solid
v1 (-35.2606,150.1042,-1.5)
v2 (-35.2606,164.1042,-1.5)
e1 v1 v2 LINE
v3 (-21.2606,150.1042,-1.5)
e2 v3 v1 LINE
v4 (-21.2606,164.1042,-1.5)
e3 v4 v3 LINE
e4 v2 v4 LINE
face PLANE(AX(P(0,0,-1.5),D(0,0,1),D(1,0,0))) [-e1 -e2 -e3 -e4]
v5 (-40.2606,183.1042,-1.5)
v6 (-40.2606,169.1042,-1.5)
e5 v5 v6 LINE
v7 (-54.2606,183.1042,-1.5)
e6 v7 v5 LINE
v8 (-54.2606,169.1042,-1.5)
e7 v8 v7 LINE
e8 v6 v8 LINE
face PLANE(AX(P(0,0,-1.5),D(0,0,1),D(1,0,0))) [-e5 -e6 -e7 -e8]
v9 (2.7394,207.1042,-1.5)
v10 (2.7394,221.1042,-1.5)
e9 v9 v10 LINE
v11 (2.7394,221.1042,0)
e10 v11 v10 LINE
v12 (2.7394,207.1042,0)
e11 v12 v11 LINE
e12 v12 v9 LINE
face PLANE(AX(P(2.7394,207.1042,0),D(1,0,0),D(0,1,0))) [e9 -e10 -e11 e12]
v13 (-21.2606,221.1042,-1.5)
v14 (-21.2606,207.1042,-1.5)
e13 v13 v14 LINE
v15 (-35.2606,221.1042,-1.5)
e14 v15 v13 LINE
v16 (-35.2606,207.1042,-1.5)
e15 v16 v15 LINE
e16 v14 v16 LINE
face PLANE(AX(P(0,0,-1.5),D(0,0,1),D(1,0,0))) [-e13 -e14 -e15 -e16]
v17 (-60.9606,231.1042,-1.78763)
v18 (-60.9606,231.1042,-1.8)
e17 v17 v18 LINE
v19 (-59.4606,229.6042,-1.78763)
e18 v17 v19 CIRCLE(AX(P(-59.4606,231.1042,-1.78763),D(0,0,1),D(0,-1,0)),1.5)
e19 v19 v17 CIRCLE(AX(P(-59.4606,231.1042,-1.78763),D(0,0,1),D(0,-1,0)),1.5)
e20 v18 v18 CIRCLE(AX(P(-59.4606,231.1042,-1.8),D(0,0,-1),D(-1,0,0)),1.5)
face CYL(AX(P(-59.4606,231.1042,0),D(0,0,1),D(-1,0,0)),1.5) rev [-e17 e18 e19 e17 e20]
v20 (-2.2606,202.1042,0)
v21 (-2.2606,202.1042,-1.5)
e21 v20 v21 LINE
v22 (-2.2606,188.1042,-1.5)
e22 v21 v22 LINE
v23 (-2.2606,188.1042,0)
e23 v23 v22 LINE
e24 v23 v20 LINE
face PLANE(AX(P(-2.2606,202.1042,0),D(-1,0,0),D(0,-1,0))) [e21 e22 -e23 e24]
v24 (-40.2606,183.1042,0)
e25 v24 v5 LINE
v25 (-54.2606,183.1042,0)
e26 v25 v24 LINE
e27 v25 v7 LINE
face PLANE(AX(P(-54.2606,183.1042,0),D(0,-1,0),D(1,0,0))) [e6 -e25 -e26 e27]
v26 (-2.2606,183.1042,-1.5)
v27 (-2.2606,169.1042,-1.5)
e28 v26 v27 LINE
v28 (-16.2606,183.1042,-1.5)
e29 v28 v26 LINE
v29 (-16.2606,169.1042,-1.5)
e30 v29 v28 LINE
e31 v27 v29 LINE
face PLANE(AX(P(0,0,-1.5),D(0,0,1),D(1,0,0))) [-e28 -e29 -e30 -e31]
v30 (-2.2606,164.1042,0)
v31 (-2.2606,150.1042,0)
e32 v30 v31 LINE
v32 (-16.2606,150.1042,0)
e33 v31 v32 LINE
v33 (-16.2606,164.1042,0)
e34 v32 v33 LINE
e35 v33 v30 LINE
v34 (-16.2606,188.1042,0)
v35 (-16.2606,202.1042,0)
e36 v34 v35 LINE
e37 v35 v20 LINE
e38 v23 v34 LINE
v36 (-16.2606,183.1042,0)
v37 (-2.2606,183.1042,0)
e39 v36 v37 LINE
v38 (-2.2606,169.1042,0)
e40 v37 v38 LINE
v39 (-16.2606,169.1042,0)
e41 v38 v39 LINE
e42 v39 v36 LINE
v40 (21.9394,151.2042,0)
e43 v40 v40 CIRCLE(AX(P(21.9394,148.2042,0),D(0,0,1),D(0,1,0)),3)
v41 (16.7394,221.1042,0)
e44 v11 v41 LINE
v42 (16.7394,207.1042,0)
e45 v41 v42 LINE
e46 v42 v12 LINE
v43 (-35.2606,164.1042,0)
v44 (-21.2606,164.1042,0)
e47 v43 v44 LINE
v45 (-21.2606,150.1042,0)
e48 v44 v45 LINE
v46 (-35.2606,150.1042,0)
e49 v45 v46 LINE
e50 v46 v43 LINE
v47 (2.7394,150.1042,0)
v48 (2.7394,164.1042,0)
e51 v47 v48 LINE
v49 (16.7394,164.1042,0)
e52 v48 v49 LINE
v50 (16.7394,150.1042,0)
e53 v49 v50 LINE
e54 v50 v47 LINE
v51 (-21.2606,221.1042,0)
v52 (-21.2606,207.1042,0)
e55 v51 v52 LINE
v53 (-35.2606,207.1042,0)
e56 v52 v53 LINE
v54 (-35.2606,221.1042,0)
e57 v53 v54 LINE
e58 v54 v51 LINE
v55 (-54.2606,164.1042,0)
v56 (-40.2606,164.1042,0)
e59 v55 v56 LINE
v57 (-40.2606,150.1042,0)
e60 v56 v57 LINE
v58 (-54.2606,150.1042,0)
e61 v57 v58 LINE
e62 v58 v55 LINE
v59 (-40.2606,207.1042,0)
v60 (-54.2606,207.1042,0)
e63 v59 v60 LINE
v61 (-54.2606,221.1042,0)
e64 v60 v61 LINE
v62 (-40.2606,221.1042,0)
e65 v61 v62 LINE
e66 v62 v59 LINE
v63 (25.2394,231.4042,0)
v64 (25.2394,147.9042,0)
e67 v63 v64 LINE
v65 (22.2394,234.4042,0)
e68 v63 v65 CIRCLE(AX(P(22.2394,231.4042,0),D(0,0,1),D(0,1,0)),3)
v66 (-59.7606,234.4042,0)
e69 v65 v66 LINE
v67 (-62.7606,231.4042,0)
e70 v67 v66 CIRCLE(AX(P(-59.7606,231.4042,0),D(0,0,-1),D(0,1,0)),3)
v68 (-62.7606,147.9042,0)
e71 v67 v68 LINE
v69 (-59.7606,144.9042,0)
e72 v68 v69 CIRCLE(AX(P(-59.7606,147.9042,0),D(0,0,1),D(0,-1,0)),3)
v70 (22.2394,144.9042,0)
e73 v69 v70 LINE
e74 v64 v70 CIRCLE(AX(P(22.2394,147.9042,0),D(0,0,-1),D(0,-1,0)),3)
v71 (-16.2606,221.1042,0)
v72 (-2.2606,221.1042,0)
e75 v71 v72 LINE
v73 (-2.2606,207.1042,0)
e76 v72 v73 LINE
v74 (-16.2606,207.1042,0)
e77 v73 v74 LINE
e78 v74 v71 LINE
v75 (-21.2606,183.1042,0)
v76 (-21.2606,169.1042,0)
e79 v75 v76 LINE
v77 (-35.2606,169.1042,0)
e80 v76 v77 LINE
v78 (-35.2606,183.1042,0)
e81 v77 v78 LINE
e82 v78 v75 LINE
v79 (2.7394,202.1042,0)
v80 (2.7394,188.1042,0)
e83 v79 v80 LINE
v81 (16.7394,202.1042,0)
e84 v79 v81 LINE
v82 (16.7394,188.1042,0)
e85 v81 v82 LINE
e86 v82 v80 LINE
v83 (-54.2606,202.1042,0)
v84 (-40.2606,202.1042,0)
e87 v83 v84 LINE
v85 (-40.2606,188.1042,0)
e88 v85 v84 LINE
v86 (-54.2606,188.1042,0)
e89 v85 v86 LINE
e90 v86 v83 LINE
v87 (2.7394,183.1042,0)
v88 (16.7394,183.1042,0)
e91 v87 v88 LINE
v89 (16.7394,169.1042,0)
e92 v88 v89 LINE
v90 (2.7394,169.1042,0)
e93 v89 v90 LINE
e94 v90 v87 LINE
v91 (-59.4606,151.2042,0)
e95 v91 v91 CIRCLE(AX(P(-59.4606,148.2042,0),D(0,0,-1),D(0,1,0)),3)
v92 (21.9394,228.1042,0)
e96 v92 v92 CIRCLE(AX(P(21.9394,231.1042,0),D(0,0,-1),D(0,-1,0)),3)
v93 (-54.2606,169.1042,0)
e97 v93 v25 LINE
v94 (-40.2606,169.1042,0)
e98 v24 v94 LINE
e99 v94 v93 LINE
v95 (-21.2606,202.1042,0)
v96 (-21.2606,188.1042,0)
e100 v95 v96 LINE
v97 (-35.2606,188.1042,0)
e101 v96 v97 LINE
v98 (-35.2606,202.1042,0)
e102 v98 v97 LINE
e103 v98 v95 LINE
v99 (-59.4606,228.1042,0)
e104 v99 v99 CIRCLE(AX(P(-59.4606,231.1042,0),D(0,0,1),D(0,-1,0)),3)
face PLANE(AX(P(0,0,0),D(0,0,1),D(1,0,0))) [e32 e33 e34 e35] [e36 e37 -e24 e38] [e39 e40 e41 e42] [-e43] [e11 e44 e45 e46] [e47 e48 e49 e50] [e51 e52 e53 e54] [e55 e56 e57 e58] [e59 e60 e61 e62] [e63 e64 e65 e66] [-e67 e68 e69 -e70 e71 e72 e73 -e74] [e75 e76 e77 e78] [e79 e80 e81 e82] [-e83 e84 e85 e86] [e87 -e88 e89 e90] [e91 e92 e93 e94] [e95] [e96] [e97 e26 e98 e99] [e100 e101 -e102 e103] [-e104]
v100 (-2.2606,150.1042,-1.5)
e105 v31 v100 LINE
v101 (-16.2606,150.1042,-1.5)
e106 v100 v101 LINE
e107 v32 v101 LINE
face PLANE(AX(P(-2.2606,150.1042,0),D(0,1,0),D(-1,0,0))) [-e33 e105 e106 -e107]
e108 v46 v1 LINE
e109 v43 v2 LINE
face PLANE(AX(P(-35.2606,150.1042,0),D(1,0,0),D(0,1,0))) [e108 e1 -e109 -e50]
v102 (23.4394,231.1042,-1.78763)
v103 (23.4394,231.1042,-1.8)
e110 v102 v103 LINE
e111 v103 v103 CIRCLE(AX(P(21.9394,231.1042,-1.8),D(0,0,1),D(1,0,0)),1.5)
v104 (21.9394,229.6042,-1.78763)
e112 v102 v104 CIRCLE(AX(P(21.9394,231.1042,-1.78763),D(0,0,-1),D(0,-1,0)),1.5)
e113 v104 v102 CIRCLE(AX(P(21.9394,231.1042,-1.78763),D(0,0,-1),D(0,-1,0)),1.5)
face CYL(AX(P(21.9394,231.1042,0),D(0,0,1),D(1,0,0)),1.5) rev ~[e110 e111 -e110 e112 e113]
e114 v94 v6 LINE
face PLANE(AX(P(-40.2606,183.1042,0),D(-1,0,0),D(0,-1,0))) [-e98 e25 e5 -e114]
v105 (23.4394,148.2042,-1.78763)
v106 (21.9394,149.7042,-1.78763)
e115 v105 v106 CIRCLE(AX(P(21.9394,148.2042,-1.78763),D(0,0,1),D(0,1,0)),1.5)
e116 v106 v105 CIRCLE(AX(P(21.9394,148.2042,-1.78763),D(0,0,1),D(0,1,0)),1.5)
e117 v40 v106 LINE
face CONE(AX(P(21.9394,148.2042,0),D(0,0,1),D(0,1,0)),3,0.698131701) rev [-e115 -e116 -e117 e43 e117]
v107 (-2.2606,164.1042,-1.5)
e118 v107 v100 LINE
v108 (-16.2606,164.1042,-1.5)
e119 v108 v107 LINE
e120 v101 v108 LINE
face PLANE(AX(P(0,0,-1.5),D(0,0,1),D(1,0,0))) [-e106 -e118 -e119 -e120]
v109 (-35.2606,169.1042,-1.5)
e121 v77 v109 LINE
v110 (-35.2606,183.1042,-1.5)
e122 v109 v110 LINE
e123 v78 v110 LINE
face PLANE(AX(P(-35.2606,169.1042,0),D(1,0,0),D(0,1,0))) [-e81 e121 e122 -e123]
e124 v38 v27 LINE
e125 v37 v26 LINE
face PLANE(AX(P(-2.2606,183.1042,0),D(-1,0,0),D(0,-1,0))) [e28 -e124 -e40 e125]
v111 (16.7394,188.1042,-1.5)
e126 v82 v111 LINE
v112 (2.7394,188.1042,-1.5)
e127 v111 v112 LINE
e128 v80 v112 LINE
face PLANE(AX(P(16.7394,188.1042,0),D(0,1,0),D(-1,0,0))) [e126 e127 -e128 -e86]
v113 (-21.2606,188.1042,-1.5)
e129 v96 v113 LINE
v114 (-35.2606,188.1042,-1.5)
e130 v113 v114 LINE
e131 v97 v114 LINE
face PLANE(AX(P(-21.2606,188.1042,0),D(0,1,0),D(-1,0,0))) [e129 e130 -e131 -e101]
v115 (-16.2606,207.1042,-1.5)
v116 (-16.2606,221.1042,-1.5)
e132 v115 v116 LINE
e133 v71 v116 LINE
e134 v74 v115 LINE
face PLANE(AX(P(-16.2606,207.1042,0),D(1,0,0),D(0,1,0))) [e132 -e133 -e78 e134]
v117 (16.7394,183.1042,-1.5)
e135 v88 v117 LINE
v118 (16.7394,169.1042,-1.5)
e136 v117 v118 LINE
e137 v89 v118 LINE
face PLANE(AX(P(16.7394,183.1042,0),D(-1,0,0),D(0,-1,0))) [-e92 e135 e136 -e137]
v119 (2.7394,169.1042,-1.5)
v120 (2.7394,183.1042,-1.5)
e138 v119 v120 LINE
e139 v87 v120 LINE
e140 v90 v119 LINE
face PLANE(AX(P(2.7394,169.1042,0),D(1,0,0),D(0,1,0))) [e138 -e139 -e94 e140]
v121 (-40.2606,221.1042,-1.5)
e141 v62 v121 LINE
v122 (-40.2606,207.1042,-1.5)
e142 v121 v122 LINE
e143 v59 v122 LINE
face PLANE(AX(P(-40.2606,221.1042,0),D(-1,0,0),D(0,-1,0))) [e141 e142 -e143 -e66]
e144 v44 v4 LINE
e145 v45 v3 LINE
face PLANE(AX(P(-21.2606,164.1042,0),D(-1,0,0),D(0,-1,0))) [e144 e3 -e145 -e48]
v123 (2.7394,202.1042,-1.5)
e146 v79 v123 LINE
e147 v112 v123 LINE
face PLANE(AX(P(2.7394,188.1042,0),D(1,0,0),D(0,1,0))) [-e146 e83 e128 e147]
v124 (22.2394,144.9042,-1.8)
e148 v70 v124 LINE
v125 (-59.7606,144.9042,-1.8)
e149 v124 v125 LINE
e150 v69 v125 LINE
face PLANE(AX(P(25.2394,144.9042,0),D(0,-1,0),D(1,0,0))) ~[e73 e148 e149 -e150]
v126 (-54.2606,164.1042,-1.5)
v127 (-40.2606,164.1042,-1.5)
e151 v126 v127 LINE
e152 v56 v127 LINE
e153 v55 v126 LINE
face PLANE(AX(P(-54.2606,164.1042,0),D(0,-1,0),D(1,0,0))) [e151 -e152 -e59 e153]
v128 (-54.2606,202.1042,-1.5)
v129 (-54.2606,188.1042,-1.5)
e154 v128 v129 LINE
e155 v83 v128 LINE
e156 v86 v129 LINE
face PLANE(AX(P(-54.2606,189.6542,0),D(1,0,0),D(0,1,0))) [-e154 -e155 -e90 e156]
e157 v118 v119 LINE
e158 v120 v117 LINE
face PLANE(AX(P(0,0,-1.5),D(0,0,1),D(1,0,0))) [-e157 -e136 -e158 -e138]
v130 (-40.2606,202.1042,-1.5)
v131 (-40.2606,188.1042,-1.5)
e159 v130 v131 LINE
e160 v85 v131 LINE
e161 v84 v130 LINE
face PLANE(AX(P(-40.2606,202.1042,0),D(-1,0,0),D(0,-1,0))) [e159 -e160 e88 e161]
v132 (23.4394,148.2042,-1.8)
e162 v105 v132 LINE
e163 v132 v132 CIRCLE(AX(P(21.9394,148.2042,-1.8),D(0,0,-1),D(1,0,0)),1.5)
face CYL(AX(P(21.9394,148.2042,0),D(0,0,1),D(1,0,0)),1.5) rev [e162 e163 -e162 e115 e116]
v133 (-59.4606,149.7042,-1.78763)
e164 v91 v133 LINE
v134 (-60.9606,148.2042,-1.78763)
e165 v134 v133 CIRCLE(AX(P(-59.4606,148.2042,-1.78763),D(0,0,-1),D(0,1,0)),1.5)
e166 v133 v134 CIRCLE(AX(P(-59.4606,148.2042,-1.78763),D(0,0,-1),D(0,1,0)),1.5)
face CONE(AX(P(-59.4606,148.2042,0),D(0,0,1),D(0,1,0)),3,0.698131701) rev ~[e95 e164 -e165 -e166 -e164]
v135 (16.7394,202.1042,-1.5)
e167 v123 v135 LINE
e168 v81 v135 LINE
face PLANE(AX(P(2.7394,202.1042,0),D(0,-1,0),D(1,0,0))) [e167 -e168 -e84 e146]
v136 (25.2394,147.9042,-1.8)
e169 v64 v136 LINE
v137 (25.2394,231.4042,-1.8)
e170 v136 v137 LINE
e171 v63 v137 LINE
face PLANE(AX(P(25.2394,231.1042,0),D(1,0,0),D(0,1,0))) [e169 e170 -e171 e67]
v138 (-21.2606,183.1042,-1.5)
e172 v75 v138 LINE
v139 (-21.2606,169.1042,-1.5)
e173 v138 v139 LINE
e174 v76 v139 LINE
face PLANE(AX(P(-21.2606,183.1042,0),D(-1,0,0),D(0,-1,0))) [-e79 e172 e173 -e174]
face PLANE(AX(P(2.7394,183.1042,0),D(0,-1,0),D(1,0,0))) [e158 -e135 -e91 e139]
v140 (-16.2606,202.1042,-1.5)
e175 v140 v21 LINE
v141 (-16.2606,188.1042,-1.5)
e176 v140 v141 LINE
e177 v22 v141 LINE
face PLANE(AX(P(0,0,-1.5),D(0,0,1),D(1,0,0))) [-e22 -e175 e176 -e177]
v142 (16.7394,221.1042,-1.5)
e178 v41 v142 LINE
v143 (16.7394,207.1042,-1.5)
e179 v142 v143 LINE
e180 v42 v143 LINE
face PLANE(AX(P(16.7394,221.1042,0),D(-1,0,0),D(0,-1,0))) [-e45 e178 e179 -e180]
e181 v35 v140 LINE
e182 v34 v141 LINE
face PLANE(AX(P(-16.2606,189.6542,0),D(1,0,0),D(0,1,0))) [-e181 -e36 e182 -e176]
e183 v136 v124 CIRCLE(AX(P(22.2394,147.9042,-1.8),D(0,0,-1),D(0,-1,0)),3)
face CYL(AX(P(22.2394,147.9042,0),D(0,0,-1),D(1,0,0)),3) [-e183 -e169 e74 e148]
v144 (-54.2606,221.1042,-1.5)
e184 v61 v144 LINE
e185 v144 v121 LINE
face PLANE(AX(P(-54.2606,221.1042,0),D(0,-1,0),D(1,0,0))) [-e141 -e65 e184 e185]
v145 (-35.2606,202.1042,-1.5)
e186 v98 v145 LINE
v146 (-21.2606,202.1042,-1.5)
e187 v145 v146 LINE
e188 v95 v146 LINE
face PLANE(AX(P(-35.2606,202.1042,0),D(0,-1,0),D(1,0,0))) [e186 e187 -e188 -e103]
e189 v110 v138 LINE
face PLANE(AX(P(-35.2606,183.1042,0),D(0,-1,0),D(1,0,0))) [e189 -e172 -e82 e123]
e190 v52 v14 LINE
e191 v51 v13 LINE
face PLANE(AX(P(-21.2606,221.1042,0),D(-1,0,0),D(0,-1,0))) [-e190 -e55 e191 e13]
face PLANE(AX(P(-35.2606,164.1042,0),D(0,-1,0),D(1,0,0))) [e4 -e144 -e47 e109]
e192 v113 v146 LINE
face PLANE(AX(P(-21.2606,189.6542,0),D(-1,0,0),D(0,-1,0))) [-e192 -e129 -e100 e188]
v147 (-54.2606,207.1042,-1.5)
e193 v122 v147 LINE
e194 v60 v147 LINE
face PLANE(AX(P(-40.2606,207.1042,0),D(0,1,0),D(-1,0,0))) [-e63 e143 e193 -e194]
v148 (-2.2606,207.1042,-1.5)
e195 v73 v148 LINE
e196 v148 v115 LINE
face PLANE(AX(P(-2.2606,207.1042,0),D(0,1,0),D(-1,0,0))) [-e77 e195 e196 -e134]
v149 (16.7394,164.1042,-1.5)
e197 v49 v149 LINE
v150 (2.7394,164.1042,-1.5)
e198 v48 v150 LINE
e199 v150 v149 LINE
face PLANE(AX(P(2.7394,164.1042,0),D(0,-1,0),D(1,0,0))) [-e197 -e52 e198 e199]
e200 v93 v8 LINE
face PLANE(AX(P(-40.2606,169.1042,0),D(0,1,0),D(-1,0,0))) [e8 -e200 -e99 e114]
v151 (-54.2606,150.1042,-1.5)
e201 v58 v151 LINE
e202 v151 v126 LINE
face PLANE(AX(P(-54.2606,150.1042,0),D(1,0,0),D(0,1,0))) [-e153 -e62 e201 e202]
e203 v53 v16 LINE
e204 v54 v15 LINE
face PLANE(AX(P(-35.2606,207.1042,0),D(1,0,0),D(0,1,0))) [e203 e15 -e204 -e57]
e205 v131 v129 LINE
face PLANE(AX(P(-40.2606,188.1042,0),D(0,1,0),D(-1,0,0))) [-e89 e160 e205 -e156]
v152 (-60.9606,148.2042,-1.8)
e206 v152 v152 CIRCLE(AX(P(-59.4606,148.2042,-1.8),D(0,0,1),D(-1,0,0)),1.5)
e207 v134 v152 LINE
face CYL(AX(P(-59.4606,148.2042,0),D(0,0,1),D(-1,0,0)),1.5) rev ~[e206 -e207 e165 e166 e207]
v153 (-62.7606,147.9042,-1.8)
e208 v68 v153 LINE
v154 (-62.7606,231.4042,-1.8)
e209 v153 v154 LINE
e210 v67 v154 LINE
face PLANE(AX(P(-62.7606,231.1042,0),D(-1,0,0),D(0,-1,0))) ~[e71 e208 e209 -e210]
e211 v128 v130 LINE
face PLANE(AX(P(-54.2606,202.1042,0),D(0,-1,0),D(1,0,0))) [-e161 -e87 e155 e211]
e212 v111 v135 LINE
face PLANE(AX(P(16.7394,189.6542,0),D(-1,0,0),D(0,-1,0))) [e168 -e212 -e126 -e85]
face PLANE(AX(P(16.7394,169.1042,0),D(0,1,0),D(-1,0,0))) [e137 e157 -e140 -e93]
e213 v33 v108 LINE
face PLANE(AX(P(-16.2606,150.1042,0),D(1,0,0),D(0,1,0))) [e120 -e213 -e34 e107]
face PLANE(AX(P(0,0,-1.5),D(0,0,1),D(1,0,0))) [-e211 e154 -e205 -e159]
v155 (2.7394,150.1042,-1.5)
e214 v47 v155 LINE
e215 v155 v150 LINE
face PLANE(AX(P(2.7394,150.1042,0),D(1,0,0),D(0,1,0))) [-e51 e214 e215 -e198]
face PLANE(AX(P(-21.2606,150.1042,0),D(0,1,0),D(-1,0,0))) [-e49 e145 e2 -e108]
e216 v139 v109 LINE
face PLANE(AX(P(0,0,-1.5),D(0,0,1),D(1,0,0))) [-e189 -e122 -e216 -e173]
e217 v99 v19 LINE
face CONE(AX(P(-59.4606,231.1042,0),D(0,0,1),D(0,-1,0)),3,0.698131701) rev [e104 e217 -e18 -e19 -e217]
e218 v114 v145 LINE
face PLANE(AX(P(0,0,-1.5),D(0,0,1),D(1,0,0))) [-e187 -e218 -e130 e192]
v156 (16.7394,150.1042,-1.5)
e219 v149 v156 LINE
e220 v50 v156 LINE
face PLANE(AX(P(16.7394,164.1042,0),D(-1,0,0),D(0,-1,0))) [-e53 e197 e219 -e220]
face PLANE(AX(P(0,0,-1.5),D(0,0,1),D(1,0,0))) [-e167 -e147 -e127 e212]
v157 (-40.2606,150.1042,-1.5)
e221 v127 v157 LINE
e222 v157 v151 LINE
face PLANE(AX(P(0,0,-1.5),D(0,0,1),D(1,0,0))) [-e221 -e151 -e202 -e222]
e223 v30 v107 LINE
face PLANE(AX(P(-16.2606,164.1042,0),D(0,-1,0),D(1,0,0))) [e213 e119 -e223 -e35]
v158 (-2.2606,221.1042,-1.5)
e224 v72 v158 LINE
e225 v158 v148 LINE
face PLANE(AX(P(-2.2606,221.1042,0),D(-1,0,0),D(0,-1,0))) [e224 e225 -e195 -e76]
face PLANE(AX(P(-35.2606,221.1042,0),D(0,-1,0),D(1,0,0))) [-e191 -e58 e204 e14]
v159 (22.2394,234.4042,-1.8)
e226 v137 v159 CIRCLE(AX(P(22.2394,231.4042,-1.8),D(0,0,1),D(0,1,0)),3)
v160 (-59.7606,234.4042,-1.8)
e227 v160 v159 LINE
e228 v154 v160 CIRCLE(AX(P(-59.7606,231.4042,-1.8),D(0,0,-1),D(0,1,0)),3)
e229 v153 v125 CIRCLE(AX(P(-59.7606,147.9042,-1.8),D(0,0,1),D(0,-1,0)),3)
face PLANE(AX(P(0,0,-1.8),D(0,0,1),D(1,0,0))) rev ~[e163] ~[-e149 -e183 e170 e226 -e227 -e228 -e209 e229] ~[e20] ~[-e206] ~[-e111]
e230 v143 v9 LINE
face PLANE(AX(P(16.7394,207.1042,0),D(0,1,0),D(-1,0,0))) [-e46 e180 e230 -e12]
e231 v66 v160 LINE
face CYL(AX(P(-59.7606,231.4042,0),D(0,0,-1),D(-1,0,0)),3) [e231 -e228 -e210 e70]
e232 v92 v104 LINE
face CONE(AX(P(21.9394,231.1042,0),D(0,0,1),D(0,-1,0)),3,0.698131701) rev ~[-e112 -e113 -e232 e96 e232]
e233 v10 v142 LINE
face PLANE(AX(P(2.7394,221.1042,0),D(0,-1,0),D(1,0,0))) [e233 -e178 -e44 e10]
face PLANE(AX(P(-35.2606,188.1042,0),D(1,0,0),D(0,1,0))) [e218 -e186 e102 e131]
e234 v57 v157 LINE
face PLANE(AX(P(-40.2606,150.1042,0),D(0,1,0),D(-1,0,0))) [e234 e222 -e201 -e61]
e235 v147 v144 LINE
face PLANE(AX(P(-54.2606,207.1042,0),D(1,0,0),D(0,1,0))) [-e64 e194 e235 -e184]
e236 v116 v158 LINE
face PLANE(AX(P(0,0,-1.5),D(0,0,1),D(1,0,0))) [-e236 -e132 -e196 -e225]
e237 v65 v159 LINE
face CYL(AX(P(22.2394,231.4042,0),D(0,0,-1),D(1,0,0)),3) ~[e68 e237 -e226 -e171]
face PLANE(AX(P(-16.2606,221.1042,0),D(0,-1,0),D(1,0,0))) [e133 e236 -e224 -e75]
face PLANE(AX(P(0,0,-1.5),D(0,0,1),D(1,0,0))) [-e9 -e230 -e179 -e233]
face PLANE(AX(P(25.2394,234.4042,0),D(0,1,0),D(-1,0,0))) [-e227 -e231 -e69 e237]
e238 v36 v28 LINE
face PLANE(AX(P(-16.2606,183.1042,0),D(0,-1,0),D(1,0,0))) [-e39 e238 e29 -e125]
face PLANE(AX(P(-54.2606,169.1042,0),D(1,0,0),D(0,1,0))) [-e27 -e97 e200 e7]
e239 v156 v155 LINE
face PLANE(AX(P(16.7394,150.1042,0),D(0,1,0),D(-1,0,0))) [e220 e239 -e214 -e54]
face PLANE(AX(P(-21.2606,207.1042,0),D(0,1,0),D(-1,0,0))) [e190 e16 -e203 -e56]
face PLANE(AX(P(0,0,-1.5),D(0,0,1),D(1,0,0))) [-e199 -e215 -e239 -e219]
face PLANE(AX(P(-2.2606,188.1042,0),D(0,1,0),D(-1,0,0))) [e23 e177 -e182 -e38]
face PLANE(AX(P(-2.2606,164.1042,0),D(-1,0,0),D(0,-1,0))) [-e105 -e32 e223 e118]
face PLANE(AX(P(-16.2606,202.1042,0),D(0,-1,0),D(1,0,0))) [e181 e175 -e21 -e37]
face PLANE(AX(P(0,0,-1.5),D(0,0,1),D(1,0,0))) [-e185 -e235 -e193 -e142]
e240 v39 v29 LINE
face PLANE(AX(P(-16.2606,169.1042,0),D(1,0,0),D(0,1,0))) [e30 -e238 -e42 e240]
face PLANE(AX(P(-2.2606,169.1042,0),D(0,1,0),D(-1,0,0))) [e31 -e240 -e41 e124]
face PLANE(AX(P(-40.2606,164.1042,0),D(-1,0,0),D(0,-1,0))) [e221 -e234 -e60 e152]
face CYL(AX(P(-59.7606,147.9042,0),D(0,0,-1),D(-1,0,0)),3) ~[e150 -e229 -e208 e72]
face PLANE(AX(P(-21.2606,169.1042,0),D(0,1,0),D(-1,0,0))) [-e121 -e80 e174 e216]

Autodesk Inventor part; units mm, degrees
ref_plane "YZ Plane" through (0, 0, 0) normal (1, 0, 0) x (0, 1, 0)
ref_plane "XZ Plane" through (0, 0, 0) normal (0, 1, 0) x (-1, 0, 0)
ref_plane "XY Plane" through (0, 0, 0) normal (0, 0, 1) x (1, 0, 0)
ref_plane "Work Plane1" through (0, 0, 0) normal (0, 0, 1) x (1, 0, 0)
sketch "Sketch1" plane through (0, 0, 0) normal (0, 0, 1) x (1, 0, 0)
  line L0 (25.2394, 234.4042) -> (-62.7606, 234.4042)
  line L1 (-62.7606, 234.4042) -> (-62.7606, 144.9042)
  line L2 (-62.7606, 144.9042) -> (25.2394, 144.9042)
  line L3 (25.2394, 144.9042) -> (25.2394, 234.4042)
  line L4 (23.4394, 232.6042) -> (-60.9606, 232.6042)
  line L5 (-60.9606, 232.6042) -> (-60.9606, 146.7042)
  line L6 (-60.9606, 146.7042) -> (23.4394, 146.7042)
  line L7 (23.4394, 146.7042) -> (23.4394, 232.6042)
  circle A0 centre (21.9394, 231.1042) radius 3.3
  circle A1 centre (21.9394, 231.1042) radius 1.5
  line L8 (-18.7606, 249.1641) -> (-18.7606, 136.0401)
  line L9 (-67.3062, 189.6542) -> (41.0259, 189.6542)
  circle A2 centre (-59.4606, 231.1042) radius 3.3
  circle A3 centre (-59.4606, 231.1042) radius 1.5
  circle A4 centre (21.9394, 148.2042) radius 3.3
  circle A5 centre (21.9394, 148.2042) radius 1.5
  circle A6 centre (-59.4606, 148.2042) radius 3.3
  circle A7 centre (-59.4606, 148.2042) radius 1.5
  line L10 (2.7394, 221.1042) -> (16.7394, 221.1042)
  line L11 (16.7394, 221.1042) -> (16.7394, 207.1042)
  line L12 (16.7394, 207.1042) -> (2.7394, 207.1042)
  line L13 (2.7394, 207.1042) -> (2.7394, 221.1042)
  line L14 (-16.2606, 221.1042) -> (-2.2606, 221.1042)
  line L15 (-2.2606, 221.1042) -> (-2.2606, 207.1042)
  line L16 (-2.2606, 207.1042) -> (-16.2606, 207.1042)
  line L17 (-16.2606, 207.1042) -> (-16.2606, 221.1042)
  line L18 (2.7394, 202.1042) -> (16.7394, 202.1042)
  line L19 (16.7394, 202.1042) -> (16.7394, 188.1042)
  line L20 (16.7394, 188.1042) -> (2.7394, 188.1042)
  line L21 (2.7394, 188.1042) -> (2.7394, 202.1042)
  line L22 (-16.2606, 202.1042) -> (-2.2606, 202.1042)
  line L23 (-2.2606, 202.1042) -> (-2.2606, 188.1042)
  line L24 (-2.2606, 188.1042) -> (-16.2606, 188.1042)
  line L25 (-16.2606, 188.1042) -> (-16.2606, 202.1042)
  line L26 (2.7394, 183.1042) -> (16.7394, 183.1042)
  line L27 (16.7394, 183.1042) -> (16.7394, 169.1042)
  line L28 (16.7394, 169.1042) -> (2.7394, 169.1042)
  line L29 (2.7394, 169.1042) -> (2.7394, 183.1042)
  line L30 (-2.2606, 169.1042) -> (-16.2606, 169.1042)
  line L31 (-16.2606, 169.1042) -> (-16.2606, 183.1042)
  line L32 (-16.2606, 183.1042) -> (-2.2606, 183.1042)
  line L33 (-2.2606, 183.1042) -> (-2.2606, 169.1042)
  line L34 (16.7394, 150.1042) -> (2.7394, 150.1042)
  line L35 (2.7394, 150.1042) -> (2.7394, 164.1042)
  line L36 (2.7394, 164.1042) -> (16.7394, 164.1042)
  line L37 (16.7394, 164.1042) -> (16.7394, 150.1042)
  line L38 (-2.2606, 150.1042) -> (-16.2606, 150.1042)
  line L39 (-16.2606, 150.1042) -> (-16.2606, 164.1042)
  line L40 (-16.2606, 164.1042) -> (-2.2606, 164.1042)
  line L41 (-2.2606, 164.1042) -> (-2.2606, 150.1042)
  line L42 (-35.2606, 221.1042) -> (-21.2606, 221.1042)
  line L43 (-21.2606, 221.1042) -> (-21.2606, 207.1042)
  line L44 (-21.2606, 207.1042) -> (-35.2606, 207.1042)
  line L45 (-35.2606, 207.1042) -> (-35.2606, 221.1042)
  line L46 (-40.2606, 207.1042) -> (-54.2606, 207.1042)
  line L47 (-54.2606, 207.1042) -> (-54.2606, 221.1042)
  line L48 (-54.2606, 221.1042) -> (-40.2606, 221.1042)
  line L49 (-40.2606, 221.1042) -> (-40.2606, 207.1042)
  line L50 (-21.2606, 188.1042) -> (-35.2606, 188.1042)
  line L51 (-35.2606, 188.1042) -> (-35.2606, 202.1042)
  line L52 (-35.2606, 202.1042) -> (-21.2606, 202.1042)
  line L53 (-21.2606, 202.1042) -> (-21.2606, 188.1042)
  line L54 (-40.2606, 188.1042) -> (-54.2606, 188.1042)
  line L55 (-54.2606, 188.1042) -> (-54.2606, 202.1042)
  line L56 (-54.2606, 202.1042) -> (-40.2606, 202.1042)
  line L57 (-40.2606, 202.1042) -> (-40.2606, 188.1042)
  line L58 (-40.2606, 150.1042) -> (-54.2606, 150.1042)
  line L59 (-54.2606, 164.1042) -> (-40.2606, 164.1042)
  line L60 (-54.2606, 150.1042) -> (-54.2606, 164.1042)
  line L61 (-40.2606, 164.1042) -> (-40.2606, 150.1042)
  line L62 (-35.2606, 150.1042) -> (-35.2606, 164.1042)
  line L63 (-35.2606, 164.1042) -> (-21.2606, 164.1042)
  line L64 (-21.2606, 150.1042) -> (-35.2606, 150.1042)
  line L65 (-21.2606, 164.1042) -> (-21.2606, 150.1042)
  line L66 (-21.2606, 169.1042) -> (-35.2606, 169.1042)
  line L67 (-40.2606, 169.1042) -> (-54.2606, 169.1042)
  line L68 (-35.2606, 183.1042) -> (-21.2606, 183.1042)
  line L69 (-21.2606, 183.1042) -> (-21.2606, 169.1042)
  line L70 (-35.2606, 169.1042) -> (-35.2606, 183.1042)
  line L71 (-40.2606, 183.1042) -> (-40.2606, 169.1042)
  line L72 (-54.2606, 183.1042) -> (-40.2606, 183.1042)
  line L73 (-54.2606, 169.1042) -> (-54.2606, 183.1042)
  point P0 (-18.7606, 189.6542)
  point P1 (-18.7606, 234.4042)
  point P2 (-18.7606, 189.6542)
  point P3 (25.2394, 189.6542)
  dimension "d0" = 88
  dimension "d1" = 89.5
  dimension "d2" = 84.4
  dimension "d3" = 85.9
  dimension "d4" = 1.8
  dimension "d5" = 1.8
  dimension "d6" = 6.6
  dimension "d7" = 3.3
  dimension "d8" = 3.3
  dimension "d9" = 3
  dimension "d12" = 44.75
  dimension "d13" = 44
  dimension "d70" = 84.4
  dimension "d71" = 85.9
  dimension "d81" = 14
  dimension "d82" = 14
  dimension "d83" = 14
  dimension "d84" = 14
  dimension "d85" = 5
  dimension "d86" = 14
  dimension "d87" = 14
  dimension "d88" = 5
  dimension "d89" = 14
  dimension "d90" = 14
  dimension "d91" = 5
  dimension "d92" = 5
  dimension "d93" = 14
  dimension "d94" = 14
  dimension "d95" = 14
  dimension "d96" = 14
  dimension "d97" = 5
  dimension "d98" = 14
  dimension "d99" = 14
  dimension "d100" = 5
  dimension "d101" = 14
  dimension "d102" = 14
  dimension "d103" = 5
  dimension "d104" = 5
  dimension "d105" = 5
  dimension "d106" = 5
  dimension "d107" = 11.5
  dimension "d108" = 11.5
  dimension "d109" = 14
  dimension "d110" = 14
  dimension "d111" = 14
  dimension "d112" = 14
  dimension "d113" = 5
  dimension "d114" = 14
  dimension "d115" = 14
  dimension "d116" = 5
  dimension "d117" = 14
  dimension "d118" = 14
  dimension "d119" = 5
  dimension "d120" = 5
  dimension "d121" = 14
  dimension "d122" = 14
  dimension "d123" = 14
  dimension "d124" = 14
  dimension "d125" = 5
  dimension "d126" = 14
  dimension "d127" = 14
  dimension "d128" = 5
  dimension "d129" = 14
  dimension "d130" = 14
extrude "Extrusion2" add sketch "Sketch1" against normal blind 1.8 contours L3 A0 L0 | A0 L4 L8 L0 | A0 L7 L4 | L3 L9 L7 A0 | A0 L7 L9 L19 L18 L21 L23 L22 L25 L8 L4 | L4 A1 L7 A0 | L4 L7 A1 | L9 L21 L18 L19 | L25 L22 L23 L9 | L10 L11 L12 L13 | L14 L15 L16 L17
hole "Hole2" at (21.9394, 231.1042, 0) direction (0, 0, -1) diameter 3 end through all countersink diameter 6 countersink angle 80
ref_plane "Work Plane4" through (-18.7606, 189.6542, -1.8) normal (1, 0, 0) x (0, 1, 0)
ref_plane "Work Plane5" through (-18.7606, 189.6542, 0) normal (0, -1, 0) x (1, 0, 0)
fillet "Fillet3" radius 3 1 edges at (25.2394, 234.4042, -0.9)
mirror "Mirror5" about plane through (-18.7606, 189.6542, 0) normal (0, -1, 0)
mirror "Mirror6" about plane through (-18.7606, 189.6542, -1.8) normal (1, 0, 0)
extrude "Extrusion3" cut sketch "Sketch1" against normal blind 1.5 contours L19 L20 L21 L9 | L9 L21 L18 L19 | L53 L50 L51 L9 | L9 L51 L52 L53 | L25 L22 L23 L9 | L9 L23 L24 L25 | L55 L56 L57 L9 | L9 L57 L54 L55 | L10 L11 L12 L13 | L14 L15 L16 L17 | L26 L27 L28 L29 | L30 L31 L32 L33 | L34 L35 L36 L37 | L38 L39 L40 L41 | L42 L43 L44 L45 | L46 L47 L48 L49 | L58 L60 L59 L61 | L62 L63 L65 L64 | L66 L70 L68 L69 | L67 L73 L72 L71
equation "\"d2\" = d0 - 2 * d4"
equation "\"d3\" = d1 - 2 * d5"
equation "\"d5\" = d4"
equation "\"d6\" = 2 * d4 + d9"
equation "\"d7\" = 0.5 * d6"
equation "\"d8\" = 0.5 * d6"
equation "\"d12\" = 0.5 * d1"
equation "\"d13\" = 0.5 * d0"
properties part number "plate"
